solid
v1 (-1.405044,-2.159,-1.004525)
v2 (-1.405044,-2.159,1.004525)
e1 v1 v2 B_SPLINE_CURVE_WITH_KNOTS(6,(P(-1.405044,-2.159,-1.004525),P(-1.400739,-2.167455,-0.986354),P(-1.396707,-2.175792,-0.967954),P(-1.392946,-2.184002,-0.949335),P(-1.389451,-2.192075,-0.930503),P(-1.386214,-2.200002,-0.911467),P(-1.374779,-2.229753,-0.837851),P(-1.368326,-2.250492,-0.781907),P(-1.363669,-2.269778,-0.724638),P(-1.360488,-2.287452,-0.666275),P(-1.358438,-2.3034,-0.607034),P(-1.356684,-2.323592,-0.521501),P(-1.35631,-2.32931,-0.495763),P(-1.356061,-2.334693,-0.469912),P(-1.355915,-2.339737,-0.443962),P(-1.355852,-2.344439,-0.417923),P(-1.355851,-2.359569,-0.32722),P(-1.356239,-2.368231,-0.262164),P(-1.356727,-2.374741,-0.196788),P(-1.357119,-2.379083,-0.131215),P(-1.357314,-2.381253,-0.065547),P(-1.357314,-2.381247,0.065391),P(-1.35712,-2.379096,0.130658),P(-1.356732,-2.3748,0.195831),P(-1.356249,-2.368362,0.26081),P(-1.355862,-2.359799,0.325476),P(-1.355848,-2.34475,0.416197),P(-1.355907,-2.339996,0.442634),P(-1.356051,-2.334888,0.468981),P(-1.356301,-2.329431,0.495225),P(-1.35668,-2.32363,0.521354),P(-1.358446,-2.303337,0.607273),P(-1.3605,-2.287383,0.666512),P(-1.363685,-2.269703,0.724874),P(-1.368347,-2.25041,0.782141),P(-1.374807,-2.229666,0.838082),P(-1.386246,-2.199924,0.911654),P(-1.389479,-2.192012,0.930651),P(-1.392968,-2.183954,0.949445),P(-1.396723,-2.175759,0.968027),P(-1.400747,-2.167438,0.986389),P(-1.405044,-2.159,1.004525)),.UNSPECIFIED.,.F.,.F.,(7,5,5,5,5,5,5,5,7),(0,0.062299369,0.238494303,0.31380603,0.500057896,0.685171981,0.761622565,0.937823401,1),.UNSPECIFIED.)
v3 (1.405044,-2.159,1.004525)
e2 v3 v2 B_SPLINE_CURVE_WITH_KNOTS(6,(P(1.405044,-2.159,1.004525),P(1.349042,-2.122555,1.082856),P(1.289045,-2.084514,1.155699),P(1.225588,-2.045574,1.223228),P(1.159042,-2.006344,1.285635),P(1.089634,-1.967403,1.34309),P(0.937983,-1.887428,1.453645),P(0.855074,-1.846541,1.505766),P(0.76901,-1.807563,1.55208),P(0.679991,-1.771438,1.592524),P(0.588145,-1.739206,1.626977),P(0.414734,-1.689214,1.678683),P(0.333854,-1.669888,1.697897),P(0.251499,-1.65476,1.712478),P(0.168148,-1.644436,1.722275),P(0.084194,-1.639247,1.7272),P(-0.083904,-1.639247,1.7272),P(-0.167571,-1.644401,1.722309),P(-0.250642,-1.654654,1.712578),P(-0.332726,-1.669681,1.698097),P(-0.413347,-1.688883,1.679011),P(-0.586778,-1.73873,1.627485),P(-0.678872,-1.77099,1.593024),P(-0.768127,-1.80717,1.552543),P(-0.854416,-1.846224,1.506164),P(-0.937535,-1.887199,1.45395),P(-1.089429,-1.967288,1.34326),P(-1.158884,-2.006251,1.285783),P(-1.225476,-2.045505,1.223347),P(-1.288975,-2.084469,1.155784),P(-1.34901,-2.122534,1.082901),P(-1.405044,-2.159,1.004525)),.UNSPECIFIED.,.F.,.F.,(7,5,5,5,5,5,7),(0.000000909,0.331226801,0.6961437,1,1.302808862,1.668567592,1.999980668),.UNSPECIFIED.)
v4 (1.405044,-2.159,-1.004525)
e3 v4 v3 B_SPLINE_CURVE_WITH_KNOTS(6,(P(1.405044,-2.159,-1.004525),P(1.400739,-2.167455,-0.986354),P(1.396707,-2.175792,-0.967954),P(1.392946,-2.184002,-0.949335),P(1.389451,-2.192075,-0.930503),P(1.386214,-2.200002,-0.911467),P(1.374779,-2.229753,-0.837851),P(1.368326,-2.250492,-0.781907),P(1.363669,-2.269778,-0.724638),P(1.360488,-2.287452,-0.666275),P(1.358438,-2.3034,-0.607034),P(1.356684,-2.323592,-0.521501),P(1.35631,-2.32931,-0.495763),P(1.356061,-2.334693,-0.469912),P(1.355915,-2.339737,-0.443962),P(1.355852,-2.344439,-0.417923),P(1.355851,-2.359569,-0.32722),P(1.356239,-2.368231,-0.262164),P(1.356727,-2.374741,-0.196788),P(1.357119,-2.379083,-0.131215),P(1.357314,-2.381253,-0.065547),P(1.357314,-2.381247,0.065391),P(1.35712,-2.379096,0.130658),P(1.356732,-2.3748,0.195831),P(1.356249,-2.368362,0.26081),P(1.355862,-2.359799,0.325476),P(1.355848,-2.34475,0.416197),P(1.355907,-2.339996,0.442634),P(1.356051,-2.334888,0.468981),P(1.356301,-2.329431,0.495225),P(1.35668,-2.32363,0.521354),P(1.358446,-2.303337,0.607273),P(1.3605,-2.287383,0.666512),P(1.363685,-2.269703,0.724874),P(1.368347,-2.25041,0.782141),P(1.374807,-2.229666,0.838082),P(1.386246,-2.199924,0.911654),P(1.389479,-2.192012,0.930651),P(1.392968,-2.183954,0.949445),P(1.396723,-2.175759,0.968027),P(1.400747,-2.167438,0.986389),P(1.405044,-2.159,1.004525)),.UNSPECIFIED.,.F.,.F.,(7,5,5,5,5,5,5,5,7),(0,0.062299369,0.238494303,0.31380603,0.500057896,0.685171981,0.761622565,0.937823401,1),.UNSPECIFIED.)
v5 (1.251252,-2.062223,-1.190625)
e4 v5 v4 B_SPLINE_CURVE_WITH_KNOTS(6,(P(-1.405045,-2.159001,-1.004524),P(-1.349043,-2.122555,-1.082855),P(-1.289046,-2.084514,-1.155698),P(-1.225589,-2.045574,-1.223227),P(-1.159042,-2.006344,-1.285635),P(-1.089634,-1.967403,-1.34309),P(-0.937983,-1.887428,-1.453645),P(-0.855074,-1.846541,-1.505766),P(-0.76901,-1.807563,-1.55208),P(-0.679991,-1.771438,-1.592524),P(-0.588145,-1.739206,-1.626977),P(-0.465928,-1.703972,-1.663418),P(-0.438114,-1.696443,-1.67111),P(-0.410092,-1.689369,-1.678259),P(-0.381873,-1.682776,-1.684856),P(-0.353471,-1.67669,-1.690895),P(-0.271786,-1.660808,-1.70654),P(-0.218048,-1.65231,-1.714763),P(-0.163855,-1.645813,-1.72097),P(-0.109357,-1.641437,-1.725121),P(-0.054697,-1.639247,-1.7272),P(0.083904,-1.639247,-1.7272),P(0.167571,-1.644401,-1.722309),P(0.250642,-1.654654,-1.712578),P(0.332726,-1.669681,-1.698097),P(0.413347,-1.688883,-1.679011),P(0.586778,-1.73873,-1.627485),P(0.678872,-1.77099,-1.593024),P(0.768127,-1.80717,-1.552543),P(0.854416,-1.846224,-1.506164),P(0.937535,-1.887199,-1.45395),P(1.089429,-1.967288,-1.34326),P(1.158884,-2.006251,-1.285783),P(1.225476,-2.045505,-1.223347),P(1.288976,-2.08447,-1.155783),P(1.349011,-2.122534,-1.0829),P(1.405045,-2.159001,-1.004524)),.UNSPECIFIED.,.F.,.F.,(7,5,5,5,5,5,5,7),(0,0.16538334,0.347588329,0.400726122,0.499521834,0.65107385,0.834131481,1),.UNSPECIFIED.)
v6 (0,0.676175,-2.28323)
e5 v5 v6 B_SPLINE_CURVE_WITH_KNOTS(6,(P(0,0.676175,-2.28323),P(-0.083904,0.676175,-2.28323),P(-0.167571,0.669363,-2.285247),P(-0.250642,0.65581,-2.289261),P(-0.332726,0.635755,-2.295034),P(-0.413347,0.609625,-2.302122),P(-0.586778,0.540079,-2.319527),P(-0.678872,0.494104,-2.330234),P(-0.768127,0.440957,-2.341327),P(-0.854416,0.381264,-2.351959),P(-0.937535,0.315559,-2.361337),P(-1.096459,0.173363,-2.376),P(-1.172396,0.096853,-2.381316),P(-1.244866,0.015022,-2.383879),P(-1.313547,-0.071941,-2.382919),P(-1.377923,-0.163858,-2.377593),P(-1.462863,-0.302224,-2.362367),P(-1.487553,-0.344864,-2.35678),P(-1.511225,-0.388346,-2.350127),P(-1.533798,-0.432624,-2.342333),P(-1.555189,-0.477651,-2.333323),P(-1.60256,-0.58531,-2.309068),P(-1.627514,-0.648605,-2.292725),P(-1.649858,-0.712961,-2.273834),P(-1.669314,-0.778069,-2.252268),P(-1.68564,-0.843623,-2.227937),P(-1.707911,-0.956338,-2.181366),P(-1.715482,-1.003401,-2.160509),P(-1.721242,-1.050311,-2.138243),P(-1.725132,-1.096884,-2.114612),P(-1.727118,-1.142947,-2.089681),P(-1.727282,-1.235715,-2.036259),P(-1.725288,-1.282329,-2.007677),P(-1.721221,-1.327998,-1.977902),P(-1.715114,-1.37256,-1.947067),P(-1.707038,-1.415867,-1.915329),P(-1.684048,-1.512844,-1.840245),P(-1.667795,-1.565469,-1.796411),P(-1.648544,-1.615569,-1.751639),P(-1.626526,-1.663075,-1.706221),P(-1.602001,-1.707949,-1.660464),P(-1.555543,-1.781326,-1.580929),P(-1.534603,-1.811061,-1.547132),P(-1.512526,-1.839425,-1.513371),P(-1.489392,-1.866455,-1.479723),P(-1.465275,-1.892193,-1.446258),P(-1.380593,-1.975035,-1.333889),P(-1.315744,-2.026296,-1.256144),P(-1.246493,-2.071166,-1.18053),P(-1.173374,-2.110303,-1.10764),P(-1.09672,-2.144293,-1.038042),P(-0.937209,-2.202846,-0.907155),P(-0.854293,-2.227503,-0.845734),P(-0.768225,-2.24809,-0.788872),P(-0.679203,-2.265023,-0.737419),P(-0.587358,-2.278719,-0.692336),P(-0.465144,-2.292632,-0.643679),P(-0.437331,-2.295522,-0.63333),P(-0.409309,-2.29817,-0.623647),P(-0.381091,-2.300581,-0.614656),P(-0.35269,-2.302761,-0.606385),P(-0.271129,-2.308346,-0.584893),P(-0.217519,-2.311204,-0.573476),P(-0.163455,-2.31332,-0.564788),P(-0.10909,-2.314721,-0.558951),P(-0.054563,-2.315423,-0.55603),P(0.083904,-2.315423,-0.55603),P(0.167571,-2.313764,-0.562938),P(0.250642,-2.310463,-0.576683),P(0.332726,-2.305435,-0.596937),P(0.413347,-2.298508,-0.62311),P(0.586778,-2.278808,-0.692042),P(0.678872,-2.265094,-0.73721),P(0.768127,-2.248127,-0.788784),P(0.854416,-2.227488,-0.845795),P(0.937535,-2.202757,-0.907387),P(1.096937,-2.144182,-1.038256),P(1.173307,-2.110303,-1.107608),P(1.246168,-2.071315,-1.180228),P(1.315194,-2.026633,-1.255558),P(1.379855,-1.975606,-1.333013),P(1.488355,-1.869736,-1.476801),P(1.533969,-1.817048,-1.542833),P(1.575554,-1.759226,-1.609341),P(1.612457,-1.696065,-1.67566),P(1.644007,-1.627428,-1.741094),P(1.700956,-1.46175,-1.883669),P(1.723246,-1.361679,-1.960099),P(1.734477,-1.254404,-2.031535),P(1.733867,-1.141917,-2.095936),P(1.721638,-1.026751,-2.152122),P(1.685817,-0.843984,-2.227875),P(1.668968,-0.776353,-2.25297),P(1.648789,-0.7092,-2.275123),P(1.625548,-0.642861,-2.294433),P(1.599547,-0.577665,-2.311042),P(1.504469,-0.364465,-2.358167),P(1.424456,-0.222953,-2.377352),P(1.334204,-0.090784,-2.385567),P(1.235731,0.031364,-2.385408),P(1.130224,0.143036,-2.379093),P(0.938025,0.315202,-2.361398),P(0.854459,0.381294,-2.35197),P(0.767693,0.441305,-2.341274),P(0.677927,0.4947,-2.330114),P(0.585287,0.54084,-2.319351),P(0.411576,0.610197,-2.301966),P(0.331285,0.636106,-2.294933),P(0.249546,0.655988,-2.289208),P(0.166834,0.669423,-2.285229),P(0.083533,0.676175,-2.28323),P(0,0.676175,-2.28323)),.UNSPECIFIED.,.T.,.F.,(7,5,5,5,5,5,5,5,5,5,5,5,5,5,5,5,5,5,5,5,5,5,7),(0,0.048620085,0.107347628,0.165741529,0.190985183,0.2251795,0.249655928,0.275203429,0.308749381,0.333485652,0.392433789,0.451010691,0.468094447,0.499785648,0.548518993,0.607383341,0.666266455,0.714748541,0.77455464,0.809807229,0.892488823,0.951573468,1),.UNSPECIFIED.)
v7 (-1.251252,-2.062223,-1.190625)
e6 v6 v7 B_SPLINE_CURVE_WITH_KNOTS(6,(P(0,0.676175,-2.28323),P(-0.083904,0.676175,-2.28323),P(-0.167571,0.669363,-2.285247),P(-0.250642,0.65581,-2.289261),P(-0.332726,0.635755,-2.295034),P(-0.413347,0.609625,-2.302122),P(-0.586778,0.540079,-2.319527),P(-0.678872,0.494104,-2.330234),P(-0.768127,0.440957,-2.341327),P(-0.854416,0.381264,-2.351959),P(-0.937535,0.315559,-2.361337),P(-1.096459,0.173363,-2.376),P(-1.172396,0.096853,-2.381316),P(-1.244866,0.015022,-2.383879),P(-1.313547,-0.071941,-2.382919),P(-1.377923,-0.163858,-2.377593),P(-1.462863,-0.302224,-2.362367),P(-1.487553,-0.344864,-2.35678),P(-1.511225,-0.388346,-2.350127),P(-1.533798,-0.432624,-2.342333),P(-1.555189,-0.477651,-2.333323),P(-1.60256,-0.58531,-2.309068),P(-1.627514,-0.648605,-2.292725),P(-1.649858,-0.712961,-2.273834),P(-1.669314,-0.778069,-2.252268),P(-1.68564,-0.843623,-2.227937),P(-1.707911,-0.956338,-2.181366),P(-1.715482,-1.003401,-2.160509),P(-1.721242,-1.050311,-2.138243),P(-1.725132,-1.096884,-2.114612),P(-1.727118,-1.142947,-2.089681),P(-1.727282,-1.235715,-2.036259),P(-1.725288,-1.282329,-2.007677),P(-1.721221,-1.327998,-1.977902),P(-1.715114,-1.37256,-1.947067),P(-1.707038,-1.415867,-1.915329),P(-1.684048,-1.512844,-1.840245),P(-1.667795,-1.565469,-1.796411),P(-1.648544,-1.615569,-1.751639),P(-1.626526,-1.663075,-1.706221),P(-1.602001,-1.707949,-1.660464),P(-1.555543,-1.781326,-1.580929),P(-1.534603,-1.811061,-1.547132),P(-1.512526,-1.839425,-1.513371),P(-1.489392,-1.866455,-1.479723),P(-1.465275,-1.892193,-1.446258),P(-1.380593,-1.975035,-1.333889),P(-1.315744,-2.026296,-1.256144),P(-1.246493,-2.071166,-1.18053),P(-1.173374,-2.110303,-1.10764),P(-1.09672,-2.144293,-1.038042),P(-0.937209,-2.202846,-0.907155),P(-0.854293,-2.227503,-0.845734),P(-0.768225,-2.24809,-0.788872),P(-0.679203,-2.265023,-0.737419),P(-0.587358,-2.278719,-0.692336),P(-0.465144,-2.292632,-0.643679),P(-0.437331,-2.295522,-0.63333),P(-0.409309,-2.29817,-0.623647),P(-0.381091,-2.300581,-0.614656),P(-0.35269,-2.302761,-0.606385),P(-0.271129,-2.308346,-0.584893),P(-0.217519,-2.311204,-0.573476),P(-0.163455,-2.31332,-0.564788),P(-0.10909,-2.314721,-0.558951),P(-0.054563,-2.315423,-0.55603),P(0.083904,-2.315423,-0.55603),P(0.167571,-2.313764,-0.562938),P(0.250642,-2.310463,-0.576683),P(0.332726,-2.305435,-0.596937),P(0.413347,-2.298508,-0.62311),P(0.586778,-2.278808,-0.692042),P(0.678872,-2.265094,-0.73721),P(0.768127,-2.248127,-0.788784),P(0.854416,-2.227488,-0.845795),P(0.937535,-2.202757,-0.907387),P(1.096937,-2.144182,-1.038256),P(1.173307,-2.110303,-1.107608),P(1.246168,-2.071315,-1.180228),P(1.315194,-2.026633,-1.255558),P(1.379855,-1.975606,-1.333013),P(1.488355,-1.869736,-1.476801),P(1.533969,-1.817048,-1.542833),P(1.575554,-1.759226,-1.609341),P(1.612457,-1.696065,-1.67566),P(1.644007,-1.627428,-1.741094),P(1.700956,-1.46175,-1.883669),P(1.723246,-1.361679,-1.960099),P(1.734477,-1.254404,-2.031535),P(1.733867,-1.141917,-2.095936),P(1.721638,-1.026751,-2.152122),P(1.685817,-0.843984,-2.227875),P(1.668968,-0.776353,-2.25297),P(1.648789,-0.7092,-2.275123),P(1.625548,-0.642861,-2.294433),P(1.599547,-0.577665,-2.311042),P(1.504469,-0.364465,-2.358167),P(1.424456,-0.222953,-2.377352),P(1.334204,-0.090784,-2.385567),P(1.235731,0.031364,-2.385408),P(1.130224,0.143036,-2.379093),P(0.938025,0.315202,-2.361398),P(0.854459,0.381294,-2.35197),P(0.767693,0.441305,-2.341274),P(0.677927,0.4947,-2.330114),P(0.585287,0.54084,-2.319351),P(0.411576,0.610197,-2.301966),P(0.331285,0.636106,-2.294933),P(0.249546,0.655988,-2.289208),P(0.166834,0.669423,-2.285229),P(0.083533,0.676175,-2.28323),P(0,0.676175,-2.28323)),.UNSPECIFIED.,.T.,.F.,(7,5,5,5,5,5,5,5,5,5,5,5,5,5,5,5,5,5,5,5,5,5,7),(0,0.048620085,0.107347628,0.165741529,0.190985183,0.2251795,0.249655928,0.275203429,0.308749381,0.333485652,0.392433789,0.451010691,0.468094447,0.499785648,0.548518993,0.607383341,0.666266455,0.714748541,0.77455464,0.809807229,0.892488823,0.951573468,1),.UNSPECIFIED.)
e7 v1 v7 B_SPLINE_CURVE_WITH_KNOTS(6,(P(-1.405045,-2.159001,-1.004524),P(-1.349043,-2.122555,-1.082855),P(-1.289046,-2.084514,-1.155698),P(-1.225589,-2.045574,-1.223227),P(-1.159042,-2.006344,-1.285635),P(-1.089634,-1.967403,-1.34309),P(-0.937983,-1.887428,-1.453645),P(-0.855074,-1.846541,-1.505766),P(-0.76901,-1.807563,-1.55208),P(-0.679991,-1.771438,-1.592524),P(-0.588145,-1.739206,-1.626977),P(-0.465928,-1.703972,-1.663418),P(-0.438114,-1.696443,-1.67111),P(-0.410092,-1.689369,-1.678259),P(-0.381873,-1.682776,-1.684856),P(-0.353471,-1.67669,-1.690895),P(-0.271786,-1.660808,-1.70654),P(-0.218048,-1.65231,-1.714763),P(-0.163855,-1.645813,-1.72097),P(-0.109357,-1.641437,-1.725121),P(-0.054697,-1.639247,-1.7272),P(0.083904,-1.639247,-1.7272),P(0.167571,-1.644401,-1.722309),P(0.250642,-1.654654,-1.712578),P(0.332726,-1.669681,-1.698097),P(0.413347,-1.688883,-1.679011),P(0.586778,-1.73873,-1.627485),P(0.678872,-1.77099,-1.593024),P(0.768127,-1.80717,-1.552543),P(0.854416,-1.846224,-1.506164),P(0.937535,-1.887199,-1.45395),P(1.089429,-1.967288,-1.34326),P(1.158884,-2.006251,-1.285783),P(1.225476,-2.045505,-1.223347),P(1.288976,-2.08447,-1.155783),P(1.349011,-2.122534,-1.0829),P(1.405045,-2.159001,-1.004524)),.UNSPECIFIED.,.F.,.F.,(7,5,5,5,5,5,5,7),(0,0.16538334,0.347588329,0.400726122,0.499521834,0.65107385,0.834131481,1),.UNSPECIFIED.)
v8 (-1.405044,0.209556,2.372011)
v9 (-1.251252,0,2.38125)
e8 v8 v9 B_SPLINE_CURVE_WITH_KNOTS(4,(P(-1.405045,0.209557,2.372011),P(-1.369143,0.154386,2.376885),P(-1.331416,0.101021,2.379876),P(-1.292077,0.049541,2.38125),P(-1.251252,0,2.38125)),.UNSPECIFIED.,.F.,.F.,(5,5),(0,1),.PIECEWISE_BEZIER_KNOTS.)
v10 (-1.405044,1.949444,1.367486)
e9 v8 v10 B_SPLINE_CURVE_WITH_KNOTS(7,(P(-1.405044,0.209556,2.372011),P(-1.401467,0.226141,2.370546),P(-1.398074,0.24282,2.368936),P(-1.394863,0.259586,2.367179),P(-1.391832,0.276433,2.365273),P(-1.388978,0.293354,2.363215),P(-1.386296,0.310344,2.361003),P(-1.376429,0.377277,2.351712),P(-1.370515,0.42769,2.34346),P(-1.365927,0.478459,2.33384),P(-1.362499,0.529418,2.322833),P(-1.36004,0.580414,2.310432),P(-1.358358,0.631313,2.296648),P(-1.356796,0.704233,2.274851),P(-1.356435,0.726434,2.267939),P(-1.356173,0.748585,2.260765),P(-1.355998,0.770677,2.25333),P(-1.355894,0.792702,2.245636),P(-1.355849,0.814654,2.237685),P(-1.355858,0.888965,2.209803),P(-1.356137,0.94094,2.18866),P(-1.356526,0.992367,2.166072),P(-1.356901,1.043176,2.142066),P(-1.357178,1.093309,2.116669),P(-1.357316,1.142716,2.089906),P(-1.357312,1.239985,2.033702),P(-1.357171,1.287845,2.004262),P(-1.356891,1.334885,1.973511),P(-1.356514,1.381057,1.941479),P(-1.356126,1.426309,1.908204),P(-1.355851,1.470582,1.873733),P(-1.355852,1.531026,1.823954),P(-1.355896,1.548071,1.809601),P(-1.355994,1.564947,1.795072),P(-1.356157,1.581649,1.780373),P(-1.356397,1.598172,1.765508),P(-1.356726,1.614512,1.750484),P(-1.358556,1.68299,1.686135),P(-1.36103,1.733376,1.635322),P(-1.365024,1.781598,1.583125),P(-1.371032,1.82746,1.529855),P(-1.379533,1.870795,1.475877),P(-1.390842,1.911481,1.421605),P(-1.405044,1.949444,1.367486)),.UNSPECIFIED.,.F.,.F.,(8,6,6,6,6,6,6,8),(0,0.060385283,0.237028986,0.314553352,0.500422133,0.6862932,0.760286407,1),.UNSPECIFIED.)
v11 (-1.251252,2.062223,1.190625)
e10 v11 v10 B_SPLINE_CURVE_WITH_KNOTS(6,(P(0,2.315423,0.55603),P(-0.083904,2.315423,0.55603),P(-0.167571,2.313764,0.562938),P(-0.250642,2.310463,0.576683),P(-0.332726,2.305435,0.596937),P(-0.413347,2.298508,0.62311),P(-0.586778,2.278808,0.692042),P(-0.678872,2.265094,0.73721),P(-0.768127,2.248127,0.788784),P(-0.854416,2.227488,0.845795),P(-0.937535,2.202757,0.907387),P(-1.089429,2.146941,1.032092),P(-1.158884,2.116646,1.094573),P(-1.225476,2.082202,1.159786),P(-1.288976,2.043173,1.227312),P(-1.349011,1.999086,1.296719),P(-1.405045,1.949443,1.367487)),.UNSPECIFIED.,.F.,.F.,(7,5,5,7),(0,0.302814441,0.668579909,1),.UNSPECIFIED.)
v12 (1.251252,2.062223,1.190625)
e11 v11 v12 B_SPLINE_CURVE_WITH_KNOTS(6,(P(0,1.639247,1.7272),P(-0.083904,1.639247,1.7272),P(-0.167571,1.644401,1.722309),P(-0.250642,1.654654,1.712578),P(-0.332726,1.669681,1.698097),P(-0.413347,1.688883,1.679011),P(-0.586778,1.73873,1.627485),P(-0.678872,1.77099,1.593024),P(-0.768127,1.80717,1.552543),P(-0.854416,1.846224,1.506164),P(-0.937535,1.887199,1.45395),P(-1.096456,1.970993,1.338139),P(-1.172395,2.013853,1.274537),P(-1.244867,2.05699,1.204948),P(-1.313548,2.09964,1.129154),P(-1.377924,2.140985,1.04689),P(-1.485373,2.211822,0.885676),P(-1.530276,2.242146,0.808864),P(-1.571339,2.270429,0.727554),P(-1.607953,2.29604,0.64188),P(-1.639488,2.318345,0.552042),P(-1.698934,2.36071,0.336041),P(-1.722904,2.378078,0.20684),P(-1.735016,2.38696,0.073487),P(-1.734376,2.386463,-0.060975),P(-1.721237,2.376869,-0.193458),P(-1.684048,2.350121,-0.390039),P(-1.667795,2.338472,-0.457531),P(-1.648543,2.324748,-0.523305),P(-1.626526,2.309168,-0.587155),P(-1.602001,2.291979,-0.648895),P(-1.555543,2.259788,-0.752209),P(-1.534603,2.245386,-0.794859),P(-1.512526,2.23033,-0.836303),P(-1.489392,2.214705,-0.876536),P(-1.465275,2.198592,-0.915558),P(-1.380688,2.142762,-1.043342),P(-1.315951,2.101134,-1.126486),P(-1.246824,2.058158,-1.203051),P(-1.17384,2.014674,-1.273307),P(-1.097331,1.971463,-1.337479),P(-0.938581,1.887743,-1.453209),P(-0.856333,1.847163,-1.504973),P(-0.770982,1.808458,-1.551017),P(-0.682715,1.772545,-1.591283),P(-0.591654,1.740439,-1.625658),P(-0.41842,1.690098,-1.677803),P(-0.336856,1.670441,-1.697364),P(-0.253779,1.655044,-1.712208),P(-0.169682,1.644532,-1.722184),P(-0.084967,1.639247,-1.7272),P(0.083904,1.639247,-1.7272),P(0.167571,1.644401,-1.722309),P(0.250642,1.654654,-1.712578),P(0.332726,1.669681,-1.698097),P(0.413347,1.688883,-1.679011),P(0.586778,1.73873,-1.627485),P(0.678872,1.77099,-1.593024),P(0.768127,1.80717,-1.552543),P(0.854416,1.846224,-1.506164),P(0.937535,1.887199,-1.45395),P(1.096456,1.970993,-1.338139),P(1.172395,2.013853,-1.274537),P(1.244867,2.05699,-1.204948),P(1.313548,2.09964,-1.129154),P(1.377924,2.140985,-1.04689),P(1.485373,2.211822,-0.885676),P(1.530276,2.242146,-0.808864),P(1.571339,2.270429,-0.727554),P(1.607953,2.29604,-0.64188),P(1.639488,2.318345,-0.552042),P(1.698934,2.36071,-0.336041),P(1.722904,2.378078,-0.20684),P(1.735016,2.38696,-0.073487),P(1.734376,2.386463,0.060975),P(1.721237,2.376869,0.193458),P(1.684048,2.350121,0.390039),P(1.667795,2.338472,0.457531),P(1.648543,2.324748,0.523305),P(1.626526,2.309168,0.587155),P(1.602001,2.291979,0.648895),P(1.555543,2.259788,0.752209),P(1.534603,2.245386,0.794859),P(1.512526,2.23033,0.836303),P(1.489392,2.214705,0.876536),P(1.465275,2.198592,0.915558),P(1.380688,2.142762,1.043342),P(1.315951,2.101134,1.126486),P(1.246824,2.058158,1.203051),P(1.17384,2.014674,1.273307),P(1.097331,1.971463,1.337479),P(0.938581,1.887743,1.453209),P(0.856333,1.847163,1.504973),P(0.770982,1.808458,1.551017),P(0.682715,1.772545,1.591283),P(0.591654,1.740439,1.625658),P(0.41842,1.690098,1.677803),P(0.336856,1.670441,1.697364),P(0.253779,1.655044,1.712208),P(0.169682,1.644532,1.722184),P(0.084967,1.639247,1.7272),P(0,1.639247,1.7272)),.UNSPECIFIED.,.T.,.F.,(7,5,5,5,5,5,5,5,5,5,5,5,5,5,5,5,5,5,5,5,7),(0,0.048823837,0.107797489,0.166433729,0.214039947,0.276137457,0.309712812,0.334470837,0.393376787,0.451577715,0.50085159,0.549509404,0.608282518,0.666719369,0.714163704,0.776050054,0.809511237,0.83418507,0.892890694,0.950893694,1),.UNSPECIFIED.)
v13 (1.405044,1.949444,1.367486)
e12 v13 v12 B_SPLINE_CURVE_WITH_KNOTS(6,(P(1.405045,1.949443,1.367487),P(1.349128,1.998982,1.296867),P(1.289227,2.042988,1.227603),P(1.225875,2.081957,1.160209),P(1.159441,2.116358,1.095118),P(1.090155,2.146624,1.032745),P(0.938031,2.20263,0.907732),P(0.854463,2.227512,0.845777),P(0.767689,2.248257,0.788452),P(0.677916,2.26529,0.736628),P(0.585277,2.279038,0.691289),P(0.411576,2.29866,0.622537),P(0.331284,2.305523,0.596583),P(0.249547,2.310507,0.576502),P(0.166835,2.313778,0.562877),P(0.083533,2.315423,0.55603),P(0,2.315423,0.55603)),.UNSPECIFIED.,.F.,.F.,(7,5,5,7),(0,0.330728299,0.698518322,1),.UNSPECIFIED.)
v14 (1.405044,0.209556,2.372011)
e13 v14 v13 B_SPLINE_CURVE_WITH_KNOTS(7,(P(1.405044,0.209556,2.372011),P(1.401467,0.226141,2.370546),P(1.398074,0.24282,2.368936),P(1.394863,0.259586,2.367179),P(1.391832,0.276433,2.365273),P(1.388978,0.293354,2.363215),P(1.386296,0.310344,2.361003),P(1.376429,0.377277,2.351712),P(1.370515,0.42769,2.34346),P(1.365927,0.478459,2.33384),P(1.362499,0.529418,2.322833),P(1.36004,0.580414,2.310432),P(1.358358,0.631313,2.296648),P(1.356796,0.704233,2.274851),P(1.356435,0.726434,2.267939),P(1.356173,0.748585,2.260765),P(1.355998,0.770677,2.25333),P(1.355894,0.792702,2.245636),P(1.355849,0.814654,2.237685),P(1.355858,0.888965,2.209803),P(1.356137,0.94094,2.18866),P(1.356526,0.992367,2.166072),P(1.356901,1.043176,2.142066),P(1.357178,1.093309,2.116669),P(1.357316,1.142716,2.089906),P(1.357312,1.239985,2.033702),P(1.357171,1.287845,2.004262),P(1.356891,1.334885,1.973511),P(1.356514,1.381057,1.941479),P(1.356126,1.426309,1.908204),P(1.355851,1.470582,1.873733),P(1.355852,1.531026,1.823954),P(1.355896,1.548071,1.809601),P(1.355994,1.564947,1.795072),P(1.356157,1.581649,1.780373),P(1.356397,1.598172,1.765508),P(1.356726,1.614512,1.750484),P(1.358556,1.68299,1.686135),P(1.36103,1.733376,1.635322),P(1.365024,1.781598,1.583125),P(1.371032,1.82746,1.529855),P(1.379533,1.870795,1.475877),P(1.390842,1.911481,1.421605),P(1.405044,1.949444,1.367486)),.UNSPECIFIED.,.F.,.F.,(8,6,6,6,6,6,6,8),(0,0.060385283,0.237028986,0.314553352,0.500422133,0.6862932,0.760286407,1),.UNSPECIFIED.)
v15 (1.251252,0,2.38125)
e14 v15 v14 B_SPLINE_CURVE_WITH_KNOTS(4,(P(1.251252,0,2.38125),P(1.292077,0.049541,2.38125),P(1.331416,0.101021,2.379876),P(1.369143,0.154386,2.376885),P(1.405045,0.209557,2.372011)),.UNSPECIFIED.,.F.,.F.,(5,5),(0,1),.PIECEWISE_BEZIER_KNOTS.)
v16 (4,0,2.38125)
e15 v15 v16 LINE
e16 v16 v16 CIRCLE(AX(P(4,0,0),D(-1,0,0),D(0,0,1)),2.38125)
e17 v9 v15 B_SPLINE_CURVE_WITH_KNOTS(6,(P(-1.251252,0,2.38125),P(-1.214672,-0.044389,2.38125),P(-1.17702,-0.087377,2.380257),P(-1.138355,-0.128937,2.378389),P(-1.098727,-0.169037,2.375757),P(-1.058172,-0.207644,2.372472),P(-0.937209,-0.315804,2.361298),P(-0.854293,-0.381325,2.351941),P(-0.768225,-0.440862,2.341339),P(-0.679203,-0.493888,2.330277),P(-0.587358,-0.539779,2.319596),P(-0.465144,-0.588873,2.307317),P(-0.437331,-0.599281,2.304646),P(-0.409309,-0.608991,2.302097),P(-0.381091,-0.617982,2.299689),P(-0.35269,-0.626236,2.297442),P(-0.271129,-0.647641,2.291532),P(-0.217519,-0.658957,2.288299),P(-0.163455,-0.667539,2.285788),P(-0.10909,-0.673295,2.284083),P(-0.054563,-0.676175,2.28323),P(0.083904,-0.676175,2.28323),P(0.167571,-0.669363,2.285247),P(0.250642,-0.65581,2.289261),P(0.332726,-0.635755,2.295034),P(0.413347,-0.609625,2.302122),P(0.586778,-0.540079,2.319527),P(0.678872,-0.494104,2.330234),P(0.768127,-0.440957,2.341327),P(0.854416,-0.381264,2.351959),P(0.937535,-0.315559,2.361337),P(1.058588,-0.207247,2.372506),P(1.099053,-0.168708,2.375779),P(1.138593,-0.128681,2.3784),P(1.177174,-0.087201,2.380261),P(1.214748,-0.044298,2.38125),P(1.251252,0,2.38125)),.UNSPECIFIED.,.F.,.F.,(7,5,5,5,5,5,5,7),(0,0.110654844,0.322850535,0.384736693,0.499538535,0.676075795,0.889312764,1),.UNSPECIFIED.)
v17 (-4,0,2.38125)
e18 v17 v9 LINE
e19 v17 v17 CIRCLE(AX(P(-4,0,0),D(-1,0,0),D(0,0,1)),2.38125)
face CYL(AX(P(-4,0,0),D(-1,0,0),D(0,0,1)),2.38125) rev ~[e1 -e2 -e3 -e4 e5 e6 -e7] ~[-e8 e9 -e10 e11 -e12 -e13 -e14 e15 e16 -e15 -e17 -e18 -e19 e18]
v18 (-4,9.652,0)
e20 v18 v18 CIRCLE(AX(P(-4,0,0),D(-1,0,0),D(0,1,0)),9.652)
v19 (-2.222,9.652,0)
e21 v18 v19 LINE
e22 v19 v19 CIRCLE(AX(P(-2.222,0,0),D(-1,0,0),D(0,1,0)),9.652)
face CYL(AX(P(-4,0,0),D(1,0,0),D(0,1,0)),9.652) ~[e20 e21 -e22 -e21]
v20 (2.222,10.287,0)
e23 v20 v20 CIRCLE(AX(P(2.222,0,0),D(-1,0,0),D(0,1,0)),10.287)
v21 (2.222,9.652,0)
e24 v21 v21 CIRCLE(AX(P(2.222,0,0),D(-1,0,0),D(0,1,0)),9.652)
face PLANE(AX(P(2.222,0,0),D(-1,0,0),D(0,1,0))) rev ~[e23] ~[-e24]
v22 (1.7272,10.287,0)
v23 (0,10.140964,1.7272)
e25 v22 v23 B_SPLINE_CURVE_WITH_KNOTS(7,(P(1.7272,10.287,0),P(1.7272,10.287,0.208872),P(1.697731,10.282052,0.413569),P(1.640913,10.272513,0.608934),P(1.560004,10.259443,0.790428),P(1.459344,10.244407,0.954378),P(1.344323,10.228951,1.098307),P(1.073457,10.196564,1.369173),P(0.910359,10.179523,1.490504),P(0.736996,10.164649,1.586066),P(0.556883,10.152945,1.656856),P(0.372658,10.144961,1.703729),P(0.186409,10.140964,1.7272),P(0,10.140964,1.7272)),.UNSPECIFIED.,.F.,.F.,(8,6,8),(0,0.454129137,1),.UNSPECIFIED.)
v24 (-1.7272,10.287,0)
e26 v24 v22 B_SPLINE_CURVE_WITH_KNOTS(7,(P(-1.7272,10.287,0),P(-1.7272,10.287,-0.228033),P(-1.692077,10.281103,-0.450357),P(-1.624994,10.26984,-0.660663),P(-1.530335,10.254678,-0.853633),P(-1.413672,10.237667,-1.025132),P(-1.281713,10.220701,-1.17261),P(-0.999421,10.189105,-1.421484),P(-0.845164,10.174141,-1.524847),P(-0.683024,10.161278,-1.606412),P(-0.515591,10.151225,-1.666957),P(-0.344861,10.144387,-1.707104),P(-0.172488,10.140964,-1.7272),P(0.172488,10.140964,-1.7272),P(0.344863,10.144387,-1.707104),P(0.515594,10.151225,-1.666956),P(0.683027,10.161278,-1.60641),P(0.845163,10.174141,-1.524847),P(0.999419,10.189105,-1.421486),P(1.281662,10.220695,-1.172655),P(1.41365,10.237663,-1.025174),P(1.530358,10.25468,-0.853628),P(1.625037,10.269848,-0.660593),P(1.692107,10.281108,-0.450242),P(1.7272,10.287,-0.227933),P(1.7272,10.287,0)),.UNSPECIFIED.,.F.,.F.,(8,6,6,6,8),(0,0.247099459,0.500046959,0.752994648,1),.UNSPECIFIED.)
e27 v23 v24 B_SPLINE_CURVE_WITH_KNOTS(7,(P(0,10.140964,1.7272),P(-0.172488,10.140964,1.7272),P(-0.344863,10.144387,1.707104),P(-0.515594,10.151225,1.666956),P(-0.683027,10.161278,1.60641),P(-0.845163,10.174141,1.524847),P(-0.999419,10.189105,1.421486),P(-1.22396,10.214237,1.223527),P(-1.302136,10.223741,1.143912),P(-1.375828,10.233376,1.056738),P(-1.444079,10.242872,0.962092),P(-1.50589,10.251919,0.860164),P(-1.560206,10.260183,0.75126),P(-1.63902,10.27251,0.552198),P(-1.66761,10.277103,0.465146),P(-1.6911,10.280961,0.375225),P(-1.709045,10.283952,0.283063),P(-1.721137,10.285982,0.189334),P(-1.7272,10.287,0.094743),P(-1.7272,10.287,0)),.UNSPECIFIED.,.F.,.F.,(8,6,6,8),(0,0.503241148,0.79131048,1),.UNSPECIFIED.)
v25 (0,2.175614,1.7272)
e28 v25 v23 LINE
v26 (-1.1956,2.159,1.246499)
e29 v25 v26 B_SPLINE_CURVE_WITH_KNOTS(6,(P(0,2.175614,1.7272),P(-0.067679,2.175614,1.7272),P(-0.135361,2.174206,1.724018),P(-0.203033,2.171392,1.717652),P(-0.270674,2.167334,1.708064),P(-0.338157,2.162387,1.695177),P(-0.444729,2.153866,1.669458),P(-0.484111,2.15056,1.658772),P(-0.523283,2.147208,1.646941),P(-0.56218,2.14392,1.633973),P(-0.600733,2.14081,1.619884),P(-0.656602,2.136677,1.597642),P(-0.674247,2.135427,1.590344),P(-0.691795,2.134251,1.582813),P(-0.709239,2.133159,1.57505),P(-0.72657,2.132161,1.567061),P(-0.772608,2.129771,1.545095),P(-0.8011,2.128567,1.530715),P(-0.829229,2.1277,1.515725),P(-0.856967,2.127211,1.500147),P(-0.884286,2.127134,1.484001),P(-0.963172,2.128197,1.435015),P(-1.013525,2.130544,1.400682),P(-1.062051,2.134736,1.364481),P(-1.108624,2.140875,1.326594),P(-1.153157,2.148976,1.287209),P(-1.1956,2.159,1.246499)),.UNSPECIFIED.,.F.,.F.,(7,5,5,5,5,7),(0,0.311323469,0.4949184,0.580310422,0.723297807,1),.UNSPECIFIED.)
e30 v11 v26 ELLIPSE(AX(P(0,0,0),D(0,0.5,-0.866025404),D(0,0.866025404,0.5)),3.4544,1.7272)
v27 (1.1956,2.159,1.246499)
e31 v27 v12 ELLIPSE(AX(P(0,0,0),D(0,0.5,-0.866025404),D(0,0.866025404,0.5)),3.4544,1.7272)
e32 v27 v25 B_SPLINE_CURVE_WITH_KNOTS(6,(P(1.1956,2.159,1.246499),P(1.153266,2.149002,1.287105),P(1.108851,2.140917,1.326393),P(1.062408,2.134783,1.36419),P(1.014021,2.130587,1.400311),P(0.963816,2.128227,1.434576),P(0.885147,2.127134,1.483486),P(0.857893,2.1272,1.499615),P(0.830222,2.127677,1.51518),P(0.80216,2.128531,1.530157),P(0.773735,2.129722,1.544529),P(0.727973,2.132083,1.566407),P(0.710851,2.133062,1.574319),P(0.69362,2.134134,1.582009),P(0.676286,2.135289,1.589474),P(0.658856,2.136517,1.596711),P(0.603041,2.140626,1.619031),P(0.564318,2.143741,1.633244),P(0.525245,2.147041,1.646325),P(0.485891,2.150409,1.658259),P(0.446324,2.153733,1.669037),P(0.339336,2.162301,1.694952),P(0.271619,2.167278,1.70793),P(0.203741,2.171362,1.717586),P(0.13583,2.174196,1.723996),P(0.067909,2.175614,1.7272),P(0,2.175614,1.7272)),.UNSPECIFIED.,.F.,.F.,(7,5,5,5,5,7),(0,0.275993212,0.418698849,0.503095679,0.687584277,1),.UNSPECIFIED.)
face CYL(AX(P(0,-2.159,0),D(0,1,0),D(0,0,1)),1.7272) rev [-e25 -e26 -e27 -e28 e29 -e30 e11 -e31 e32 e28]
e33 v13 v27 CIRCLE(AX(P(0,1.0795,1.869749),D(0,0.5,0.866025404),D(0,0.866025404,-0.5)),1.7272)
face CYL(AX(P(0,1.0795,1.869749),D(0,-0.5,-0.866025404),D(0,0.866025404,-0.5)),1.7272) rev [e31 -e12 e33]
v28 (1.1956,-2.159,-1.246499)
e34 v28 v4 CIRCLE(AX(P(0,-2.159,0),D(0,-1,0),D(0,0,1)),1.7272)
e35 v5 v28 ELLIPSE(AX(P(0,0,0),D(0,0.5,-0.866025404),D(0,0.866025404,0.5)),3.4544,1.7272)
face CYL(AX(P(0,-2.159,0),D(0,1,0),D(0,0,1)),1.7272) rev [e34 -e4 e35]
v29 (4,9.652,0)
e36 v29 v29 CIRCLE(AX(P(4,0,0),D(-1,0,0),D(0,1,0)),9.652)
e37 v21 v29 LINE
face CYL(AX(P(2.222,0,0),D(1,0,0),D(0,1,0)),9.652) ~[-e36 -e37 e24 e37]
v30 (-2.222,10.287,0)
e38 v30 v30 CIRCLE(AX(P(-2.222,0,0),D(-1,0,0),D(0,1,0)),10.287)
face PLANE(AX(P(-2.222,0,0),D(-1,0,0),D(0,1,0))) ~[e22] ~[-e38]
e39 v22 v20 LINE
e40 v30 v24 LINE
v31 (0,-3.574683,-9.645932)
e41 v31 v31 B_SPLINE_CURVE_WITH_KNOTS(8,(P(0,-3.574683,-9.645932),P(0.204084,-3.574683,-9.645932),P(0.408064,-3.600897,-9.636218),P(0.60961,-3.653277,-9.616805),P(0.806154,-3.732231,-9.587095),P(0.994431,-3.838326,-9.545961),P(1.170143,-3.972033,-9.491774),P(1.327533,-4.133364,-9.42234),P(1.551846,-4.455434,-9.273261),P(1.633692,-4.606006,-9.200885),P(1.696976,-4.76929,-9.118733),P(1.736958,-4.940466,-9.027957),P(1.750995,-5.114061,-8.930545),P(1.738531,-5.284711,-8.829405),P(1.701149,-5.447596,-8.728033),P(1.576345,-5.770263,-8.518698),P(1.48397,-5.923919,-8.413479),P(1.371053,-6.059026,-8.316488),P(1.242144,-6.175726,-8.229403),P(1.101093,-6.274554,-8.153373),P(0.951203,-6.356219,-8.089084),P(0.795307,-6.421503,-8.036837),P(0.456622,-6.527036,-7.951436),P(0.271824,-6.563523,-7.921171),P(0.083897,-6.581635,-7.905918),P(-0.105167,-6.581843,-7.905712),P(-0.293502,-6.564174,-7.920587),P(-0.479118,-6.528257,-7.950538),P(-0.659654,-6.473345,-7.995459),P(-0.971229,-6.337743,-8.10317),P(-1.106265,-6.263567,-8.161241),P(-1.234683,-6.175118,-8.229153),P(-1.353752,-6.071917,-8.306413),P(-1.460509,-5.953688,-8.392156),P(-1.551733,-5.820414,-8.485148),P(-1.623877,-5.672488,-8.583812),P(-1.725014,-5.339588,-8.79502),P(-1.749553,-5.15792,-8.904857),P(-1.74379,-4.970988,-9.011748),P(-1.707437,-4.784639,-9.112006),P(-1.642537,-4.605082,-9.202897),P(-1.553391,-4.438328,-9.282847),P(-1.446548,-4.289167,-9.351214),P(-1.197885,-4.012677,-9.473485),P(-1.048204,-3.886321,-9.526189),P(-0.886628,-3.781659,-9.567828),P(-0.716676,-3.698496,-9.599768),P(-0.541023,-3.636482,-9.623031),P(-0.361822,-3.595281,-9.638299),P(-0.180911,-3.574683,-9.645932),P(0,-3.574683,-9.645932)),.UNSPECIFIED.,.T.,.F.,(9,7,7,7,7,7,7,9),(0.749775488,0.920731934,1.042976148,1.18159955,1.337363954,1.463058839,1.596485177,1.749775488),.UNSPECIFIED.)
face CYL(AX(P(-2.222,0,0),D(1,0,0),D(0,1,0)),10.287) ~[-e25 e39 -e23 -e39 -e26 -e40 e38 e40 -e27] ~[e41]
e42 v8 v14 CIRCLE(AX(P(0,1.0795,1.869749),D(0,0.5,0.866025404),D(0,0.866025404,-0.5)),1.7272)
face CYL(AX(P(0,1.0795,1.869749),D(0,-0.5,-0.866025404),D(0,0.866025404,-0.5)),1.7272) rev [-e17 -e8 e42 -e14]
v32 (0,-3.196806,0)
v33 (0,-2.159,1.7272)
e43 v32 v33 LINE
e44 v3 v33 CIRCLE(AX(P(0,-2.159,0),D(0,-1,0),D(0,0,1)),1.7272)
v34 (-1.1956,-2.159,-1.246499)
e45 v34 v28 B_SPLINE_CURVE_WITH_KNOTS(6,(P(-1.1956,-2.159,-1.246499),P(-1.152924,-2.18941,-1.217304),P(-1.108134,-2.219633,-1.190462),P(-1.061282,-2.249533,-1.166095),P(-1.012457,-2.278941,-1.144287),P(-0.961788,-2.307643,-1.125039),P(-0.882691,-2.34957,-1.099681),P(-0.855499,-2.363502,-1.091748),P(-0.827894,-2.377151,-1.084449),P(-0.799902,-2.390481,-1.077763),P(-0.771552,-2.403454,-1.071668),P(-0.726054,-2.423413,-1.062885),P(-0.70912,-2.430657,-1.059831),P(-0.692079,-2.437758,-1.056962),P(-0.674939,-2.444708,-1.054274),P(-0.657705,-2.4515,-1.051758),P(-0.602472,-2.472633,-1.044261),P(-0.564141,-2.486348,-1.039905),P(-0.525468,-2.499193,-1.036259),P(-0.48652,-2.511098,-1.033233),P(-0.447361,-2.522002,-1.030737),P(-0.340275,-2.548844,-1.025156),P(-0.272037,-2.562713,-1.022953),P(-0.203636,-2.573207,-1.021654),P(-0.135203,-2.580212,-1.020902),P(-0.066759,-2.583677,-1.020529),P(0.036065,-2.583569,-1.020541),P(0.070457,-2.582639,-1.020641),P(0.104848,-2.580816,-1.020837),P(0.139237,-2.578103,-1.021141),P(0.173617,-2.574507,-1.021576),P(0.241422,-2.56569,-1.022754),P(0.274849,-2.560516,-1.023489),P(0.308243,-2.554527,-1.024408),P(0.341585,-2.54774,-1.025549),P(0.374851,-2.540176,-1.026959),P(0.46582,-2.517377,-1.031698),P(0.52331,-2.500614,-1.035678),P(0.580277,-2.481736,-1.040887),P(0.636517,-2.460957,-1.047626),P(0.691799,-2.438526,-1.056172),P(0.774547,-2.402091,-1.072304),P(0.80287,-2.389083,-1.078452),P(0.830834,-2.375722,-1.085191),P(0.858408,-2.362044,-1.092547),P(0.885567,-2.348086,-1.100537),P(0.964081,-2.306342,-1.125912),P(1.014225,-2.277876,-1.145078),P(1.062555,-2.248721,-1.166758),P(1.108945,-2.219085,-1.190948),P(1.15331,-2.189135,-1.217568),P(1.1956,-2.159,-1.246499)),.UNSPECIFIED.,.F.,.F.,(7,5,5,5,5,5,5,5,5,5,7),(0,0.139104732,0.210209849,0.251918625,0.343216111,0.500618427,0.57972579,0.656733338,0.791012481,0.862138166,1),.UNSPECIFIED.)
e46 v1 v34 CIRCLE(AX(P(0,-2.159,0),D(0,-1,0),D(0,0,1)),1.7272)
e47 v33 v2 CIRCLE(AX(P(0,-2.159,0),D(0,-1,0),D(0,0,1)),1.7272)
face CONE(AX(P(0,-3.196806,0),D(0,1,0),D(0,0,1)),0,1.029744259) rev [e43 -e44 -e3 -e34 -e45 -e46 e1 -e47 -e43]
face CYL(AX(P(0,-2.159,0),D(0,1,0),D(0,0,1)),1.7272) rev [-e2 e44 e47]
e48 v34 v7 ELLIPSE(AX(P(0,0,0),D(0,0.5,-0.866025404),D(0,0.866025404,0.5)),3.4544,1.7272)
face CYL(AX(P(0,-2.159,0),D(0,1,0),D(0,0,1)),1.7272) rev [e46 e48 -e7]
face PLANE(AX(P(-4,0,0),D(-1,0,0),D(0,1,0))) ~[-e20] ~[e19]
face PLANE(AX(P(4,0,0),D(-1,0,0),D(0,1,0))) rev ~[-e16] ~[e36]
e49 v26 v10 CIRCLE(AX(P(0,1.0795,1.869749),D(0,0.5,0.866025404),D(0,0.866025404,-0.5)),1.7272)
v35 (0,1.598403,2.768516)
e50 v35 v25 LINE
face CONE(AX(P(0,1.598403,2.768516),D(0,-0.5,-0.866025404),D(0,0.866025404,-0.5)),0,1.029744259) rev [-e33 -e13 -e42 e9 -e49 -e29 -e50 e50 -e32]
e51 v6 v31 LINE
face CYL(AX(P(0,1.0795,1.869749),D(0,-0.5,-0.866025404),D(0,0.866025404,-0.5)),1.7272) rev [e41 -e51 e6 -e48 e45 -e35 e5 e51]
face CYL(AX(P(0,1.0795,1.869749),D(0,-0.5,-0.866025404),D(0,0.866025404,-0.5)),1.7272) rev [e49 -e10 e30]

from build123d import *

# Parameters (mm, degrees)
SKETCH2_R          = 2.38125
CUT_EXTRUDE1_DEPTH = 9
CIRPATTERN1_COUNT  = 2
CIRPATTERN1_ANGLE  = 120


with BuildPart() as part:
    # Sketch1 → Revolve1 (revolve)
    with BuildSketch(Plane.XY):
        Polygon((4, 0), (-4, 0), (-4, 9.652), (-2.222, 9.652), (-2.222, 10.287), (2.222, 10.287), (2.222, 9.652), (4, 9.652), align=None)
    revolve(axis=Axis((8.430806561, 0, 0), (-1, 0, 0)))

    # Sketch2 → Cut-Extrude1 (cut, through all)
    with BuildSketch(Plane.ZY.offset(4)):
        Circle(SKETCH2_R)
    extrude(amount=-CUT_EXTRUDE1_DEPTH, mode=Mode.SUBTRACT)

    # Sketch4 → #8-32 Tapped Hole1 (revolve, cut)
    with BuildSketch(Plane(origin=(0, 10.287, 0), x_dir=(0, 0, 1), z_dir=(1, 0, 0))):
        Polygon((0, 0), (0, 13.483806461), (1.7272, 12.446), (1.7272, 0), align=None)
    f_8_32_tapped_hole1 = revolve(axis=Axis((0, 16.637, 0), (0, -1, 0)), mode=Mode.SUBTRACT)

    # CirPattern1: #8-32 Tapped Hole1 ×2 about axis
    cirpattern1_axis = Axis((4, 0, 0), (-1, 0, 0))
    for i in range(1, CIRPATTERN1_COUNT):
        add(f_8_32_tapped_hole1.rotate(cirpattern1_axis, i * CIRPATTERN1_ANGLE / (CIRPATTERN1_COUNT - 1)), mode=Mode.SUBTRACT)


solid = part.part
